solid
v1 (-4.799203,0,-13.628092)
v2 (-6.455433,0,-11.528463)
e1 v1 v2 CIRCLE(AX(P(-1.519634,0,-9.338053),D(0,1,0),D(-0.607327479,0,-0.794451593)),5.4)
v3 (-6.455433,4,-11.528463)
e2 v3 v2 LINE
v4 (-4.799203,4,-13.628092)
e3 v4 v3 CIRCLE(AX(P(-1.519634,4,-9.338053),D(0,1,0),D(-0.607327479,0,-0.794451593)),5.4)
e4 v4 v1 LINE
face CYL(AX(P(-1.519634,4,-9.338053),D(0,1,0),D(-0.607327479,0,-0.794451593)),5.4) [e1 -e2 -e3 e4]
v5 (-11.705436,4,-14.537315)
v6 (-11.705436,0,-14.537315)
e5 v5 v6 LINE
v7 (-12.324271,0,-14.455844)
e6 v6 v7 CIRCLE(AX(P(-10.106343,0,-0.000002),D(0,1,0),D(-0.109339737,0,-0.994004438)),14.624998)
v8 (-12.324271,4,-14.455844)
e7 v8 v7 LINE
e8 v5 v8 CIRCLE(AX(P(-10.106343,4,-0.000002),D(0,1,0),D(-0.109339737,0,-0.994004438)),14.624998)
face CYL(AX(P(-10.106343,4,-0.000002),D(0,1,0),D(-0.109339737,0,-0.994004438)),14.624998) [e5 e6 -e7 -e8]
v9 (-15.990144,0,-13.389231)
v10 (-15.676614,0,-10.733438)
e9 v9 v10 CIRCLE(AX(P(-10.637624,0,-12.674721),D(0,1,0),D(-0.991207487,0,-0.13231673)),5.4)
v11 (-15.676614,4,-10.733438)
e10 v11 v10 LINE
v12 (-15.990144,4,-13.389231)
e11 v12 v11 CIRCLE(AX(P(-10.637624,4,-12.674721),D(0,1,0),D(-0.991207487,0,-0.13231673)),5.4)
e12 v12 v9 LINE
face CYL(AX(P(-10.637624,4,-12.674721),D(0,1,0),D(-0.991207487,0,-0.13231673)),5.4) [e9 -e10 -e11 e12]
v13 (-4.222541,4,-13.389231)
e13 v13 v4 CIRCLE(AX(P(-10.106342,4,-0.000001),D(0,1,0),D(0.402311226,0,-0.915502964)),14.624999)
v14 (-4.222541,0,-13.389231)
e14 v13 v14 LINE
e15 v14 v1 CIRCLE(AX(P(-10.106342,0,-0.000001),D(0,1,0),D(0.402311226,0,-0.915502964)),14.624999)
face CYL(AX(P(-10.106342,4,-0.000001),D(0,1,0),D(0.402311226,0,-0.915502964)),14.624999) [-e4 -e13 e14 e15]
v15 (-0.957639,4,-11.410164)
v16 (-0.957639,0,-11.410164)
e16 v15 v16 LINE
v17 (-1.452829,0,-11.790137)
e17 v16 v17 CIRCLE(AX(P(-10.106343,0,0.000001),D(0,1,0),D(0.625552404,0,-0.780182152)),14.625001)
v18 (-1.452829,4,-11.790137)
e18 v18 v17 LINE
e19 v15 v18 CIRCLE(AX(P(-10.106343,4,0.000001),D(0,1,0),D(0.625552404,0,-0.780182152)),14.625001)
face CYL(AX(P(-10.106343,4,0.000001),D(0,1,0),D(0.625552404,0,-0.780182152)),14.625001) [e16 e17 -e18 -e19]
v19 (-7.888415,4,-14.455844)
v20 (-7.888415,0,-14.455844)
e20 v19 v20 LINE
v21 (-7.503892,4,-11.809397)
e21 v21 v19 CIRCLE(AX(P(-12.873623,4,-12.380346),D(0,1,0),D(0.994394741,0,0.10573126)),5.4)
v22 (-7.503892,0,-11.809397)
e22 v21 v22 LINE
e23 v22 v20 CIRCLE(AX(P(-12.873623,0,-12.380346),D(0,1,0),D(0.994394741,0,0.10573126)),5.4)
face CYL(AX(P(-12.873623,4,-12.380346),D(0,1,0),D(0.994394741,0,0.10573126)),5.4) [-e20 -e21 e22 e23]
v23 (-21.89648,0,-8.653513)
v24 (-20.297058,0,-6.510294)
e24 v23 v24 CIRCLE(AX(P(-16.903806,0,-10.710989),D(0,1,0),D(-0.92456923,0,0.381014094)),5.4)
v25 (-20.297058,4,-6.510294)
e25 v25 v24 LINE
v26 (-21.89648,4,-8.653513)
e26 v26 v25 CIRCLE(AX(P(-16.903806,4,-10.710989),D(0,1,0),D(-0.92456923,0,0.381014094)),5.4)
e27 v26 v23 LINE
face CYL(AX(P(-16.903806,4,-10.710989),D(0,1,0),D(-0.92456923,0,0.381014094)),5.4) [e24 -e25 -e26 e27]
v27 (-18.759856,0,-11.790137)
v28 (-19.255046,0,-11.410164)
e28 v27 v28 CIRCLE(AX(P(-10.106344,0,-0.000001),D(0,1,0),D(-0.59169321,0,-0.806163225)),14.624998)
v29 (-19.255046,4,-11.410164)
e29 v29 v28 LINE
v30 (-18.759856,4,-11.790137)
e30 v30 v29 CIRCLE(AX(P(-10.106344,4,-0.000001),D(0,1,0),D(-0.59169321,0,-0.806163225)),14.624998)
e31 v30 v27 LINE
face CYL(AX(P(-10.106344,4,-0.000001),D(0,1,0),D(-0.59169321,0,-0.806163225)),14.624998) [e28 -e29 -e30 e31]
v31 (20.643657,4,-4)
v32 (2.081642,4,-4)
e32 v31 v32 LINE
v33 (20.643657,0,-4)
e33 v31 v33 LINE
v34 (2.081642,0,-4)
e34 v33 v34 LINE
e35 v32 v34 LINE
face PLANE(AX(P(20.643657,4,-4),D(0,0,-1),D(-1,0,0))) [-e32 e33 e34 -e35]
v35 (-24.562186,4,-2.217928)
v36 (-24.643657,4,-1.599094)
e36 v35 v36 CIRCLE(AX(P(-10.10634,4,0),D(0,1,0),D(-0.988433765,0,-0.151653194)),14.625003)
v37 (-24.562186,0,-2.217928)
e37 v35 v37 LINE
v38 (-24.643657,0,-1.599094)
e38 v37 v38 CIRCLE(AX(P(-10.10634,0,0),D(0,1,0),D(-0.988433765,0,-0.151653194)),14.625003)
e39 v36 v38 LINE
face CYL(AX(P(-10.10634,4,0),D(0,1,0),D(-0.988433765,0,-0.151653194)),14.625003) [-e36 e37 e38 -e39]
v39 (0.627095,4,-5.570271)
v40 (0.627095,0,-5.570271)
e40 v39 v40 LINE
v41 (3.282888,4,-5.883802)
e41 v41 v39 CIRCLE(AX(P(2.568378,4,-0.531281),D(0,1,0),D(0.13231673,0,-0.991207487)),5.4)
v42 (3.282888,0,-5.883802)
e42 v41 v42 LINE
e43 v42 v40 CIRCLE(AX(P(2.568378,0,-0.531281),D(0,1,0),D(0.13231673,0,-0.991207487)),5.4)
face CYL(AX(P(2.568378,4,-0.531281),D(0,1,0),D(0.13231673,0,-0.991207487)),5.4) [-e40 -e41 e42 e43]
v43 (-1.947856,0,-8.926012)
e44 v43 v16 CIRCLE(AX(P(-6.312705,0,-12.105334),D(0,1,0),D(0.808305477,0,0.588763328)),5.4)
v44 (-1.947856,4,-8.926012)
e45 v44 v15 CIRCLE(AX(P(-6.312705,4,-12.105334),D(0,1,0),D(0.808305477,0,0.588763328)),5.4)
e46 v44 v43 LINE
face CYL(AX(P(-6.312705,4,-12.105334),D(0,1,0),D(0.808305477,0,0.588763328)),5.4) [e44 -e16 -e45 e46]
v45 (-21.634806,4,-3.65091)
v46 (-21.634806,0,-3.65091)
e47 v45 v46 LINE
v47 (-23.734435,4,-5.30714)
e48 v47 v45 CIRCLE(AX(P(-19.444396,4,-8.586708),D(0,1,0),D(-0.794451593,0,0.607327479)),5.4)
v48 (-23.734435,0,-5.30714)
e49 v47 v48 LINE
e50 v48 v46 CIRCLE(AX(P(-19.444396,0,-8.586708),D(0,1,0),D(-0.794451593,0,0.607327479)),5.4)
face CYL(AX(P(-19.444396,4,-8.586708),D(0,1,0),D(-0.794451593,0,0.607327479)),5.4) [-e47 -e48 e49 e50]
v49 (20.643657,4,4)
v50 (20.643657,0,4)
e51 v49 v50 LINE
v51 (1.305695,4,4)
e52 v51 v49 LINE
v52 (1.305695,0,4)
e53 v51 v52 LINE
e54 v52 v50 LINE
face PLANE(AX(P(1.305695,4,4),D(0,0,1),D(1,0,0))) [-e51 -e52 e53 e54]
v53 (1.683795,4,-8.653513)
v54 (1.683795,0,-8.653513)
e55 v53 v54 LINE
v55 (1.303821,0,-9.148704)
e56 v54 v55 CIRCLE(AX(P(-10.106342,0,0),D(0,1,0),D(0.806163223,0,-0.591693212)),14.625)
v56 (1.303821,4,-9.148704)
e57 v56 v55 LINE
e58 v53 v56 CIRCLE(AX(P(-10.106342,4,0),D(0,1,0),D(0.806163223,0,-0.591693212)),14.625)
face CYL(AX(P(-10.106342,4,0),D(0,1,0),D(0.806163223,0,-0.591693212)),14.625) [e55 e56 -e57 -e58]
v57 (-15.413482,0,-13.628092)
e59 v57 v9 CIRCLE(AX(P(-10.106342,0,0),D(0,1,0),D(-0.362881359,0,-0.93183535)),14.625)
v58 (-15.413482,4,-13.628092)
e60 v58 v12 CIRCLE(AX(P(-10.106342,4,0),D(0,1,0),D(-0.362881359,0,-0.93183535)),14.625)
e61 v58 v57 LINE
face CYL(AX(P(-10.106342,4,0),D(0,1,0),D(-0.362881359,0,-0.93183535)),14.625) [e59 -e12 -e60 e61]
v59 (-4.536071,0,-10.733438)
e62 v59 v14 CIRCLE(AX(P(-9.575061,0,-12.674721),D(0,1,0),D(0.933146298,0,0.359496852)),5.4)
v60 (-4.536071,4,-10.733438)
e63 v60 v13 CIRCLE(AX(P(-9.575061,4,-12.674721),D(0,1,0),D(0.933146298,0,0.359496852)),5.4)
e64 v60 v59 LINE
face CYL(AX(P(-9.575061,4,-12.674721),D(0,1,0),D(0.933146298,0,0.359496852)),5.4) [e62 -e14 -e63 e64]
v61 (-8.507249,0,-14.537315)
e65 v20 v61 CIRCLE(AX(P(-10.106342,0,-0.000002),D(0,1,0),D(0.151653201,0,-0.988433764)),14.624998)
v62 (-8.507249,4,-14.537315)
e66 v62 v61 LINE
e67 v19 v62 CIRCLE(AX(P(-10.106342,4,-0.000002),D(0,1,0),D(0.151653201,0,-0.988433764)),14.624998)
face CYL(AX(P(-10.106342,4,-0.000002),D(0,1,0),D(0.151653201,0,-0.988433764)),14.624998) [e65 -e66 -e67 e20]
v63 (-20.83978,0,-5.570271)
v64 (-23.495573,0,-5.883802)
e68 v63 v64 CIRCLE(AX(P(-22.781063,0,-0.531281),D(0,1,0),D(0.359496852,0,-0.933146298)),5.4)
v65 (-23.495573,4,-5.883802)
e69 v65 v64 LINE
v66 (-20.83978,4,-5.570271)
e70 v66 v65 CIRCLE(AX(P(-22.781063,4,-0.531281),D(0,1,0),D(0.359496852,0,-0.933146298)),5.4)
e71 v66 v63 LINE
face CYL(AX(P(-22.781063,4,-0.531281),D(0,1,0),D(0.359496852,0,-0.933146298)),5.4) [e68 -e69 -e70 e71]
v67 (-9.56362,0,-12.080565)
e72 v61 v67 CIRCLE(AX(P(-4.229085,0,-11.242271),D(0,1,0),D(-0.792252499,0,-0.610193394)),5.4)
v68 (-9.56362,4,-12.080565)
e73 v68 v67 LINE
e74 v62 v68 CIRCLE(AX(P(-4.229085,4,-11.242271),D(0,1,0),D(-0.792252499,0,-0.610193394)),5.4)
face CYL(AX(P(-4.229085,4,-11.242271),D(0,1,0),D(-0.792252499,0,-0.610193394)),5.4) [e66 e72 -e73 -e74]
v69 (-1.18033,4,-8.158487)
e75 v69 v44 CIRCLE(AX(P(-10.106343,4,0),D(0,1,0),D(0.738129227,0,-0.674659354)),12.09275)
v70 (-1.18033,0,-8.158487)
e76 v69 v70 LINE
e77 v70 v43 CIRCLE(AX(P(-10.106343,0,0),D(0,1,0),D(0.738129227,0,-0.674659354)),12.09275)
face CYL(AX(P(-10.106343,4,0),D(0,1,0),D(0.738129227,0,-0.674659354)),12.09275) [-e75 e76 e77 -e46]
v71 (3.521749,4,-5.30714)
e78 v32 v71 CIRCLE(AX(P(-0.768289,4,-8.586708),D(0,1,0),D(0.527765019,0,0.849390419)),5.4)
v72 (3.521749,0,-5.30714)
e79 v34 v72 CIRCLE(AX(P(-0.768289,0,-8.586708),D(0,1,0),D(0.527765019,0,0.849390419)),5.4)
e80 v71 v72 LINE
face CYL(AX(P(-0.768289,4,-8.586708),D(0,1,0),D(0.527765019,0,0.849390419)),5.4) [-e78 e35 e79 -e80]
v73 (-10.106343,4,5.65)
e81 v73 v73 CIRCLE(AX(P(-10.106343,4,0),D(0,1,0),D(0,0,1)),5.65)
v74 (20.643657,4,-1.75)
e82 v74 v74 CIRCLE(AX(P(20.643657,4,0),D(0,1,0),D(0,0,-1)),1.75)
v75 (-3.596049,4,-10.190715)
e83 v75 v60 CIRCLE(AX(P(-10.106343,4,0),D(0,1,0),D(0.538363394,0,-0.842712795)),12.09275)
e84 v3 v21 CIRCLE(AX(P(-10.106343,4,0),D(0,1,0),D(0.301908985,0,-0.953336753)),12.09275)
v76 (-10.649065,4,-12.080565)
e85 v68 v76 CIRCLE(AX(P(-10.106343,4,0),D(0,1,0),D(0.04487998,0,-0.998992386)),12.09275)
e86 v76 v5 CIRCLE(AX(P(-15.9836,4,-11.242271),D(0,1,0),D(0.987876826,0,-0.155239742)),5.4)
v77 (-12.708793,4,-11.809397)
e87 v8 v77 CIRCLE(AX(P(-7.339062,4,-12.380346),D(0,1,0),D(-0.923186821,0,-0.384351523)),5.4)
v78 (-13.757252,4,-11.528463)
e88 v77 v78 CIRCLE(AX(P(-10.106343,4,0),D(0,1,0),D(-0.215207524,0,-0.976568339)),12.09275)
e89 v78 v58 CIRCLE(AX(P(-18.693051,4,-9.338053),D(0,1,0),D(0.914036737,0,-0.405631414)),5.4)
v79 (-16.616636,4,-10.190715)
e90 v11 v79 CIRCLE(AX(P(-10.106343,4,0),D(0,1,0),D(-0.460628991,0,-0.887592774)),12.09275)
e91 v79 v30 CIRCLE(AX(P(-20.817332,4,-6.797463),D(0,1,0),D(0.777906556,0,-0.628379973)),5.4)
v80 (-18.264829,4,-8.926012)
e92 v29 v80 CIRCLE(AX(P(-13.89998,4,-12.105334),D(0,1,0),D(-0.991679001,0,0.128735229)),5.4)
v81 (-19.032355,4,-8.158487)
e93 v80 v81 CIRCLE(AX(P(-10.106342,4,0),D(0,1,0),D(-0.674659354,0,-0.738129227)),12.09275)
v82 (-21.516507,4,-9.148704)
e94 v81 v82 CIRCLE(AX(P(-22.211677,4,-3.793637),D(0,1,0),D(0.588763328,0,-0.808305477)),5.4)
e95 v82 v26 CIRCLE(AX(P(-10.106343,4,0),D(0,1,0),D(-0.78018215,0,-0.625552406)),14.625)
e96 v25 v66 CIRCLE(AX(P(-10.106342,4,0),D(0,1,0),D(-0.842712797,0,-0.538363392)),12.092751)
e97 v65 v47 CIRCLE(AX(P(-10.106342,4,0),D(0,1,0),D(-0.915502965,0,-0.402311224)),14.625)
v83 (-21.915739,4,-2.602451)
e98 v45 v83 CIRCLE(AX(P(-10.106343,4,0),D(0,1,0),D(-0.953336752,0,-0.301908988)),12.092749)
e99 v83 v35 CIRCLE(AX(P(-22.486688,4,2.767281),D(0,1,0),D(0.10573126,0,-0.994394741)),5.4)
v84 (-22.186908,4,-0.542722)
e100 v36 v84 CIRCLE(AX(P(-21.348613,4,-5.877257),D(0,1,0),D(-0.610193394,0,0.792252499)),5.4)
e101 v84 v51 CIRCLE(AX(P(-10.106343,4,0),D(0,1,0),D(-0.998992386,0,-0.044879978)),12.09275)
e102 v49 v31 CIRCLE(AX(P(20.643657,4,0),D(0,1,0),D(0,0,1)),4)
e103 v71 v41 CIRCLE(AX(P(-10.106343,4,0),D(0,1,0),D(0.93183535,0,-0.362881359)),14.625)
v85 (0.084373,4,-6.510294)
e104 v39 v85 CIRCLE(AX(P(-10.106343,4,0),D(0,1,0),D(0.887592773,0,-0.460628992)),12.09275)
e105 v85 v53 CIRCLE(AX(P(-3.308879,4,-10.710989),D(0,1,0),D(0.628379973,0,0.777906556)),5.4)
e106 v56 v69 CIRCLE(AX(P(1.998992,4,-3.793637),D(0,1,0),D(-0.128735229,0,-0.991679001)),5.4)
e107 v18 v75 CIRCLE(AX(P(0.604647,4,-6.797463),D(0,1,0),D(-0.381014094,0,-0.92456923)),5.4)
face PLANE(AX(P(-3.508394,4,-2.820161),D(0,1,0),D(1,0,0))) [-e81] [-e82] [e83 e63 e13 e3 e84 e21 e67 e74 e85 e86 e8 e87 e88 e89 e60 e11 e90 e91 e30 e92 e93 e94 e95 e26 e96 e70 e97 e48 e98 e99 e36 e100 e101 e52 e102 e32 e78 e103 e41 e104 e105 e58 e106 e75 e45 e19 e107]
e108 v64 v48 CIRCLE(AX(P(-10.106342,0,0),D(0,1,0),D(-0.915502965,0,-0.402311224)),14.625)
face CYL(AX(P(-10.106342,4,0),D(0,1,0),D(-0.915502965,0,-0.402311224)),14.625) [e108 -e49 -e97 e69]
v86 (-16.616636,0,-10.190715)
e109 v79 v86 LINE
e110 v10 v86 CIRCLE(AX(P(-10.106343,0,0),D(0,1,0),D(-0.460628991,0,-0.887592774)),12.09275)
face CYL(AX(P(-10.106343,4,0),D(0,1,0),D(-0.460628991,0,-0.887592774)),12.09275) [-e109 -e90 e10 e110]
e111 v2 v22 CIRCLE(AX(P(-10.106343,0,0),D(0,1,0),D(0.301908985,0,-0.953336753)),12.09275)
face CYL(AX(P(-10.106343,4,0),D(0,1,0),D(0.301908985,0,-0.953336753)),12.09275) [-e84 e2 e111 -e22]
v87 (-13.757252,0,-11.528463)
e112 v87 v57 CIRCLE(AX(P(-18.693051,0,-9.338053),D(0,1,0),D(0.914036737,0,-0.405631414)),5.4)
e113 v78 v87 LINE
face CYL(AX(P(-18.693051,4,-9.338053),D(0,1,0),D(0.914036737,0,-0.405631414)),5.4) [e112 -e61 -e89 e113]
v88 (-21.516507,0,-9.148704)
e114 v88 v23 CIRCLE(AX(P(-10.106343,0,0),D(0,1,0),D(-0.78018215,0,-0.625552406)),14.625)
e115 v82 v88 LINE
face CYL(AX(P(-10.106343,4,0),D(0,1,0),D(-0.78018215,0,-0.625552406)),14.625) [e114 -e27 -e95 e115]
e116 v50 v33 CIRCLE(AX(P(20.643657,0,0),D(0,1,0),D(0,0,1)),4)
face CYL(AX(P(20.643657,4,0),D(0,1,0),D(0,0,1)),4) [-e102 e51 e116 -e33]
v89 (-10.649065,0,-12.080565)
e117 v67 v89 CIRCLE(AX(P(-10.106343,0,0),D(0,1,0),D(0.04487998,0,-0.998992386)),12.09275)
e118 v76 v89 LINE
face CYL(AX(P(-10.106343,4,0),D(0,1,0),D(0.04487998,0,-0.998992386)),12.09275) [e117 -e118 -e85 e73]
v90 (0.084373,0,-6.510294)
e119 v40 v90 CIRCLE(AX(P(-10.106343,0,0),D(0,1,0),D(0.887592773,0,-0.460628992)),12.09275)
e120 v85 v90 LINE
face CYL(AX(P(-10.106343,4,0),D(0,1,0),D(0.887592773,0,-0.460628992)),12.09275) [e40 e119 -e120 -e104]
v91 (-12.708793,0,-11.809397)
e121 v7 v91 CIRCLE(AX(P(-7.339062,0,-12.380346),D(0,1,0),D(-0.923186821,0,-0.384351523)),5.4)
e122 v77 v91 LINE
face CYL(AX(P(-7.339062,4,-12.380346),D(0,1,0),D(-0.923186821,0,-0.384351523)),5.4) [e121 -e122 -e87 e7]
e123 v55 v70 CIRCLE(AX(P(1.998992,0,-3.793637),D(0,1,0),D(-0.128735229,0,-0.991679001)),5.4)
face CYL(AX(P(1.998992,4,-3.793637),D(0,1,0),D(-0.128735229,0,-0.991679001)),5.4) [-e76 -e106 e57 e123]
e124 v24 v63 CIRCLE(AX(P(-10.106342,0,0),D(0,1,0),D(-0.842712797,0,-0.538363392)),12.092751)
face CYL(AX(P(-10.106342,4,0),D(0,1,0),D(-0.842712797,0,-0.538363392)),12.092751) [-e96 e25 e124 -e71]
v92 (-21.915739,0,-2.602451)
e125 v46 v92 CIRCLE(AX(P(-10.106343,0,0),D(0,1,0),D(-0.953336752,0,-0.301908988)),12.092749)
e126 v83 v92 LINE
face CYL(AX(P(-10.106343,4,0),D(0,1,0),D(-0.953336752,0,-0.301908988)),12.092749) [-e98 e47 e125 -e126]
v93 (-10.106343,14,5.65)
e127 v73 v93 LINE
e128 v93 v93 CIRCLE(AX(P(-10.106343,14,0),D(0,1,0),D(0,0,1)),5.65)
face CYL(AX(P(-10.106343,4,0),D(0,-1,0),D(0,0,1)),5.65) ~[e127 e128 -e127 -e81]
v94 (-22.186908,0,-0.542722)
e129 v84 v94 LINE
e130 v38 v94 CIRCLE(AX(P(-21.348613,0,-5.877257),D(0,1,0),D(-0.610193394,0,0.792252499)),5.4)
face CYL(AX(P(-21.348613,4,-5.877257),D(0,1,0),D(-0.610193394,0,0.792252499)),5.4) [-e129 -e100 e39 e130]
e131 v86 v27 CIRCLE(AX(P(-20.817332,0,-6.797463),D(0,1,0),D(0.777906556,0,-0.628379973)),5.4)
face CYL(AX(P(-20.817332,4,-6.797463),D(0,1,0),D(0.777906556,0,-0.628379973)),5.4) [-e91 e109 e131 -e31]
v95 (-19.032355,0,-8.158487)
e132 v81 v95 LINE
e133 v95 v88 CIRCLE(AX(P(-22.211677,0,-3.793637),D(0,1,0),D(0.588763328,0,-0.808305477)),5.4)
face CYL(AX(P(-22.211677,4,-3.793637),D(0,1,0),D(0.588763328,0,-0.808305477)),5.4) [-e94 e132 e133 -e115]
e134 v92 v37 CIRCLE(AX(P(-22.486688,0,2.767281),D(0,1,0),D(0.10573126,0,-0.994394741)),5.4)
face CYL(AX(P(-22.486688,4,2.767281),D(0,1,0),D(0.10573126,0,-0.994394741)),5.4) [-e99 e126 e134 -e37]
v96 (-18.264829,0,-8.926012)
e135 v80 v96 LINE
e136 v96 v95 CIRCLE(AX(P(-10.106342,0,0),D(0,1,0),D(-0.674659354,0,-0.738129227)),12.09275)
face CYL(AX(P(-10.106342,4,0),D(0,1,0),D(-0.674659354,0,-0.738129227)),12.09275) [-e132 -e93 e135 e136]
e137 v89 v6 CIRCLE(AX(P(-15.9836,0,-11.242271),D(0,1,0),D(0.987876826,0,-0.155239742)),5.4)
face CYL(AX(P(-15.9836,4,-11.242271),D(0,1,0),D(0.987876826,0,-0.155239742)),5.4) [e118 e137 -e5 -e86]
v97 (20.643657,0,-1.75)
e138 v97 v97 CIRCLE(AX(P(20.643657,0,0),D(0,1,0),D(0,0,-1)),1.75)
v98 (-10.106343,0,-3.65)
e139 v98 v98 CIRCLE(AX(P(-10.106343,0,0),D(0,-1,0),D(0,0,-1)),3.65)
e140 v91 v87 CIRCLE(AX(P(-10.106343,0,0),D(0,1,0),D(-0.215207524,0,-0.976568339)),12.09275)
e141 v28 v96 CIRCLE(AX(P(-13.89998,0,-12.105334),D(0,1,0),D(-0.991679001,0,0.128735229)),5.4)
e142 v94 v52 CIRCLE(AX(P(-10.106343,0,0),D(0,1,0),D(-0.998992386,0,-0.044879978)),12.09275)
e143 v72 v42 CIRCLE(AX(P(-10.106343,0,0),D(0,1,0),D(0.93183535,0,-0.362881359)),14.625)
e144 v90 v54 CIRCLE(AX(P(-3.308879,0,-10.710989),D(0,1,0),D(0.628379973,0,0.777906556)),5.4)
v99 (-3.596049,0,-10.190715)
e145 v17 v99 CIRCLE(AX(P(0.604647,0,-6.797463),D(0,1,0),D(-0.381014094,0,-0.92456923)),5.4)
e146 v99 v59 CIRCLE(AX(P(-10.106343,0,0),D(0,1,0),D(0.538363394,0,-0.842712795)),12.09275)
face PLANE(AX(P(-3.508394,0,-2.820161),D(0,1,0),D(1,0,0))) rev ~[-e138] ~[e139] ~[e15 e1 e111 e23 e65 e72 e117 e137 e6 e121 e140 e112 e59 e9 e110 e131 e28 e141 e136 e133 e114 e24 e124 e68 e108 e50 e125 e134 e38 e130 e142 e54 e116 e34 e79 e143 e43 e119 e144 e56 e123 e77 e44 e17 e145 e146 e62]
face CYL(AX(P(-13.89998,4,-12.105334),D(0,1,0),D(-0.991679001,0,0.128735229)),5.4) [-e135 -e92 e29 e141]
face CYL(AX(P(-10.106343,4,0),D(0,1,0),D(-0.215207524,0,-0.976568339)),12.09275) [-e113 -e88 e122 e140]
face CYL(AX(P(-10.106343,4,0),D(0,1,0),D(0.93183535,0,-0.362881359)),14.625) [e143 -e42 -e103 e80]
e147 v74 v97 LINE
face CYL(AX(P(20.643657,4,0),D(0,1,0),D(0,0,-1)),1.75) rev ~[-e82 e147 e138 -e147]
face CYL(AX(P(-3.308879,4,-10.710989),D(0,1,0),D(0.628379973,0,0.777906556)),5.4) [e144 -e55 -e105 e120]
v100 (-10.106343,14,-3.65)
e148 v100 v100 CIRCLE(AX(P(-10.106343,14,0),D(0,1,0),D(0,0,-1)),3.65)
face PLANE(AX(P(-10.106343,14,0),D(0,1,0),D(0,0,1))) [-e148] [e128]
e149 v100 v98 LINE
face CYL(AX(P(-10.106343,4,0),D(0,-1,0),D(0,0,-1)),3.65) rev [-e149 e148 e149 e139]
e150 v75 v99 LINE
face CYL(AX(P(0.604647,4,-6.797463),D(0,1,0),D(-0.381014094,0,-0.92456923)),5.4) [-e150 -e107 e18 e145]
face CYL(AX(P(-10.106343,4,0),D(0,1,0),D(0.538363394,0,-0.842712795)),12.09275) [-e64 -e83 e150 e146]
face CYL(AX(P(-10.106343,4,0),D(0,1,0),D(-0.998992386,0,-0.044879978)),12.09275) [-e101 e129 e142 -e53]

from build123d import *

# Parameters (mm, degrees)
SKETCH1_R           = 1.75
BOSS_EXTRUDE1_DEPTH = 4
SKETCH_1_R          = 3.65
CUT_EXTRUDE_1_DEPTH = 29.890195164
SKETCH_2_R          = 5.65
SKETCH_2_R_2        = 3.65
EXTRUDE_1_DEPTH     = 10


with BuildPart() as part:
    # Sketch1 → Boss-Extrude1 (new body)
    with BuildSketch(Plane(origin=(0, 4, 0), x_dir=(1, 0, 0), z_dir=(0, 1, 0))):
        with BuildLine():
            Line((1.305695063, -4), (20.643657446, -4))
            ThreePointArc((20.643657446, -4), (24.643657446, 0), (20.643657446, 4))
            Line((20.643657446, 4), (2.081641936, 4))
            ThreePointArc((2.081641936, 4), (2.861028333, 4.588201733), (3.521749436, 5.30713988))
            ThreePointArc((3.521749436, 5.30713988), (3.405395609, 5.596745198), (3.282888305, 5.883801663))
            ThreePointArc((3.282888305, 5.883801663), (1.93527598, 5.894040025), (0.627094961, 5.57027124))
            ThreePointArc((0.627094961, 5.57027124), (0.366286148, 6.046375), (0.084372603, 6.510293938))
            ThreePointArc((0.084372603, 6.510293938), (1.018855105, 7.48132754), (1.683794586, 8.65351323))
            ThreePointArc((1.683794586, 8.65351323), (1.496450048, 8.903135899), (1.303821399, 9.148703928))
            ThreePointArc((1.303821399, 9.148703928), (-0.000522033, 8.809805691), (-1.180330337, 8.158486898))
            ThreePointArc((-1.180330337, 8.158486898), (-1.555477026, 8.550865528), (-1.947855656, 8.926012217))
            ThreePointArc((-1.947855656, 8.926012217), (-1.296536862, 10.105820521), (-0.957638625, 11.410163953))
            ThreePointArc((-0.957638625, 11.410163953), (-1.203206655, 11.602792602), (-1.452829324, 11.79013714))
            ThreePointArc((-1.452829324, 11.79013714), (-2.625015014, 11.125197659), (-3.596048616, 10.190715157))
            ThreePointArc((-3.596048616, 10.190715157), (-4.059967554, 10.472628702), (-4.536071314, 10.733437515))
            ThreePointArc((-4.536071314, 10.733437515), (-4.212302529, 12.041618533), (-4.222540891, 13.389230859))
            ThreePointArc((-4.222540891, 13.389230859), (-4.509597355, 13.511738163), (-4.799202674, 13.62809199))
            ThreePointArc((-4.799202674, 13.62809199), (-5.759348103, 12.682425791), (-6.455432668, 11.528463019))
            ThreePointArc((-6.455432668, 11.528463019), (-6.976508546, 11.680699536), (-7.503891752, 11.809396783))
            ThreePointArc((-7.503891752, 11.809396783), (-7.529737283, 13.156800143), (-7.888414517, 14.455843809))
            ThreePointArc((-7.888414517, 14.455843809), (-8.197396993, 14.499881098), (-8.507248835, 14.537314892))
            ThreePointArc((-8.507248835, 14.537314892), (-9.18992168, 13.375367565), (-9.563620196, 12.080565177))
            ThreePointArc((-9.563620196, 12.080565177), (-10.106342554, 12.09275), (-10.649064912, 12.080565177))
            ThreePointArc((-10.649064912, 12.080565177), (-11.022763428, 13.375367565), (-11.705436272, 14.537314892))
            ThreePointArc((-11.705436272, 14.537314892), (-12.015288115, 14.499881098), (-12.324270591, 14.455843809))
            ThreePointArc((-12.324270591, 14.455843809), (-12.682947825, 13.156800143), (-12.708793355, 11.809396783))
            ThreePointArc((-12.708793355, 11.809396783), (-13.236176561, 11.680699536), (-13.757252439, 11.528463019))
            ThreePointArc((-13.757252439, 11.528463019), (-14.453337005, 12.682425791), (-15.413482434, 13.62809199))
            ThreePointArc((-15.413482434, 13.62809199), (-15.703087752, 13.511738163), (-15.990144217, 13.389230859))
            ThreePointArc((-15.990144217, 13.389230859), (-16.000382579, 12.041618533), (-15.676613793, 10.733437515))
            ThreePointArc((-15.676613793, 10.733437515), (-16.152717554, 10.472628702), (-16.616636492, 10.190715157))
            ThreePointArc((-16.616636492, 10.190715157), (-17.587670094, 11.125197659), (-18.759855783, 11.79013714))
            ThreePointArc((-18.759855783, 11.79013714), (-19.009478453, 11.602792602), (-19.255046482, 11.410163953))
            ThreePointArc((-19.255046482, 11.410163953), (-18.916148245, 10.105820521), (-18.264829452, 8.926012217))
            ThreePointArc((-18.264829452, 8.926012217), (-18.657208082, 8.550865528), (-19.032354771, 8.158486898))
            ThreePointArc((-19.032354771, 8.158486898), (-20.212163074, 8.809805691), (-21.516506507, 9.148703928))
            ThreePointArc((-21.516506507, 9.148703928), (-21.709135156, 8.903135899), (-21.896479694, 8.65351323))
            ThreePointArc((-21.896479694, 8.65351323), (-21.231540213, 7.48132754), (-20.297057711, 6.510293938))
            ThreePointArc((-20.297057711, 6.510293938), (-20.578971255, 6.046375), (-20.839780068, 5.57027124))
            ThreePointArc((-20.839780068, 5.57027124), (-22.147961087, 5.894040025), (-23.495573413, 5.883801663))
            ThreePointArc((-23.495573413, 5.883801663), (-23.618080717, 5.596745198), (-23.734434544, 5.30713988))
            ThreePointArc((-23.734434544, 5.30713988), (-22.788768345, 4.346994451), (-21.634805572, 3.650909885))
            ThreePointArc((-21.634805572, 3.650909885), (-21.78704209, 3.129834008), (-21.915739337, 2.602450802))
            ThreePointArc((-21.915739337, 2.602450802), (-23.263142697, 2.576605271), (-24.562186363, 2.217928037))
            ThreePointArc((-24.562186363, 2.217928037), (-24.606223651, 1.908945561), (-24.643657446, 1.599093719))
            ThreePointArc((-24.643657446, 1.599093719), (-23.481710119, 0.916420874), (-22.186907731, 0.542722358))
            ThreePointArc((-22.186907731, 0.542722358), (-12.402167869, -11.872817218), (1.305695063, -4))
        make_face()
        with Locations(Location((20.643657446, 0, 0), (0, 0, 90))):
            Circle(SKETCH1_R, mode=Mode.SUBTRACT)
    extrude(amount=-BOSS_EXTRUDE1_DEPTH)

    # 草图1 → 切除-拉伸1 (cut, through all)
    with BuildSketch(Plane.XZ):
        with Locations(Location((-10.106342554, 0, 0), (0, 0, 270))):
            Circle(SKETCH_1_R)
    extrude(amount=-CUT_EXTRUDE_1_DEPTH, mode=Mode.SUBTRACT)

    # 草图2 → 凸台-拉伸1 (add)
    with BuildSketch(Plane(origin=(0, 4, 0), x_dir=(1, 0, 0), z_dir=(0, 1, 0))):
        with Locations(Location((-10.106342554, 0, 0), (0, 0, 270))):
            Circle(SKETCH_2_R)
        with Locations(Location((-10.106342554, 0, 0), (0, 0, 90))):
            Circle(SKETCH_2_R_2, mode=Mode.SUBTRACT)
    extrude(amount=EXTRUDE_1_DEPTH)


solid = part.part
